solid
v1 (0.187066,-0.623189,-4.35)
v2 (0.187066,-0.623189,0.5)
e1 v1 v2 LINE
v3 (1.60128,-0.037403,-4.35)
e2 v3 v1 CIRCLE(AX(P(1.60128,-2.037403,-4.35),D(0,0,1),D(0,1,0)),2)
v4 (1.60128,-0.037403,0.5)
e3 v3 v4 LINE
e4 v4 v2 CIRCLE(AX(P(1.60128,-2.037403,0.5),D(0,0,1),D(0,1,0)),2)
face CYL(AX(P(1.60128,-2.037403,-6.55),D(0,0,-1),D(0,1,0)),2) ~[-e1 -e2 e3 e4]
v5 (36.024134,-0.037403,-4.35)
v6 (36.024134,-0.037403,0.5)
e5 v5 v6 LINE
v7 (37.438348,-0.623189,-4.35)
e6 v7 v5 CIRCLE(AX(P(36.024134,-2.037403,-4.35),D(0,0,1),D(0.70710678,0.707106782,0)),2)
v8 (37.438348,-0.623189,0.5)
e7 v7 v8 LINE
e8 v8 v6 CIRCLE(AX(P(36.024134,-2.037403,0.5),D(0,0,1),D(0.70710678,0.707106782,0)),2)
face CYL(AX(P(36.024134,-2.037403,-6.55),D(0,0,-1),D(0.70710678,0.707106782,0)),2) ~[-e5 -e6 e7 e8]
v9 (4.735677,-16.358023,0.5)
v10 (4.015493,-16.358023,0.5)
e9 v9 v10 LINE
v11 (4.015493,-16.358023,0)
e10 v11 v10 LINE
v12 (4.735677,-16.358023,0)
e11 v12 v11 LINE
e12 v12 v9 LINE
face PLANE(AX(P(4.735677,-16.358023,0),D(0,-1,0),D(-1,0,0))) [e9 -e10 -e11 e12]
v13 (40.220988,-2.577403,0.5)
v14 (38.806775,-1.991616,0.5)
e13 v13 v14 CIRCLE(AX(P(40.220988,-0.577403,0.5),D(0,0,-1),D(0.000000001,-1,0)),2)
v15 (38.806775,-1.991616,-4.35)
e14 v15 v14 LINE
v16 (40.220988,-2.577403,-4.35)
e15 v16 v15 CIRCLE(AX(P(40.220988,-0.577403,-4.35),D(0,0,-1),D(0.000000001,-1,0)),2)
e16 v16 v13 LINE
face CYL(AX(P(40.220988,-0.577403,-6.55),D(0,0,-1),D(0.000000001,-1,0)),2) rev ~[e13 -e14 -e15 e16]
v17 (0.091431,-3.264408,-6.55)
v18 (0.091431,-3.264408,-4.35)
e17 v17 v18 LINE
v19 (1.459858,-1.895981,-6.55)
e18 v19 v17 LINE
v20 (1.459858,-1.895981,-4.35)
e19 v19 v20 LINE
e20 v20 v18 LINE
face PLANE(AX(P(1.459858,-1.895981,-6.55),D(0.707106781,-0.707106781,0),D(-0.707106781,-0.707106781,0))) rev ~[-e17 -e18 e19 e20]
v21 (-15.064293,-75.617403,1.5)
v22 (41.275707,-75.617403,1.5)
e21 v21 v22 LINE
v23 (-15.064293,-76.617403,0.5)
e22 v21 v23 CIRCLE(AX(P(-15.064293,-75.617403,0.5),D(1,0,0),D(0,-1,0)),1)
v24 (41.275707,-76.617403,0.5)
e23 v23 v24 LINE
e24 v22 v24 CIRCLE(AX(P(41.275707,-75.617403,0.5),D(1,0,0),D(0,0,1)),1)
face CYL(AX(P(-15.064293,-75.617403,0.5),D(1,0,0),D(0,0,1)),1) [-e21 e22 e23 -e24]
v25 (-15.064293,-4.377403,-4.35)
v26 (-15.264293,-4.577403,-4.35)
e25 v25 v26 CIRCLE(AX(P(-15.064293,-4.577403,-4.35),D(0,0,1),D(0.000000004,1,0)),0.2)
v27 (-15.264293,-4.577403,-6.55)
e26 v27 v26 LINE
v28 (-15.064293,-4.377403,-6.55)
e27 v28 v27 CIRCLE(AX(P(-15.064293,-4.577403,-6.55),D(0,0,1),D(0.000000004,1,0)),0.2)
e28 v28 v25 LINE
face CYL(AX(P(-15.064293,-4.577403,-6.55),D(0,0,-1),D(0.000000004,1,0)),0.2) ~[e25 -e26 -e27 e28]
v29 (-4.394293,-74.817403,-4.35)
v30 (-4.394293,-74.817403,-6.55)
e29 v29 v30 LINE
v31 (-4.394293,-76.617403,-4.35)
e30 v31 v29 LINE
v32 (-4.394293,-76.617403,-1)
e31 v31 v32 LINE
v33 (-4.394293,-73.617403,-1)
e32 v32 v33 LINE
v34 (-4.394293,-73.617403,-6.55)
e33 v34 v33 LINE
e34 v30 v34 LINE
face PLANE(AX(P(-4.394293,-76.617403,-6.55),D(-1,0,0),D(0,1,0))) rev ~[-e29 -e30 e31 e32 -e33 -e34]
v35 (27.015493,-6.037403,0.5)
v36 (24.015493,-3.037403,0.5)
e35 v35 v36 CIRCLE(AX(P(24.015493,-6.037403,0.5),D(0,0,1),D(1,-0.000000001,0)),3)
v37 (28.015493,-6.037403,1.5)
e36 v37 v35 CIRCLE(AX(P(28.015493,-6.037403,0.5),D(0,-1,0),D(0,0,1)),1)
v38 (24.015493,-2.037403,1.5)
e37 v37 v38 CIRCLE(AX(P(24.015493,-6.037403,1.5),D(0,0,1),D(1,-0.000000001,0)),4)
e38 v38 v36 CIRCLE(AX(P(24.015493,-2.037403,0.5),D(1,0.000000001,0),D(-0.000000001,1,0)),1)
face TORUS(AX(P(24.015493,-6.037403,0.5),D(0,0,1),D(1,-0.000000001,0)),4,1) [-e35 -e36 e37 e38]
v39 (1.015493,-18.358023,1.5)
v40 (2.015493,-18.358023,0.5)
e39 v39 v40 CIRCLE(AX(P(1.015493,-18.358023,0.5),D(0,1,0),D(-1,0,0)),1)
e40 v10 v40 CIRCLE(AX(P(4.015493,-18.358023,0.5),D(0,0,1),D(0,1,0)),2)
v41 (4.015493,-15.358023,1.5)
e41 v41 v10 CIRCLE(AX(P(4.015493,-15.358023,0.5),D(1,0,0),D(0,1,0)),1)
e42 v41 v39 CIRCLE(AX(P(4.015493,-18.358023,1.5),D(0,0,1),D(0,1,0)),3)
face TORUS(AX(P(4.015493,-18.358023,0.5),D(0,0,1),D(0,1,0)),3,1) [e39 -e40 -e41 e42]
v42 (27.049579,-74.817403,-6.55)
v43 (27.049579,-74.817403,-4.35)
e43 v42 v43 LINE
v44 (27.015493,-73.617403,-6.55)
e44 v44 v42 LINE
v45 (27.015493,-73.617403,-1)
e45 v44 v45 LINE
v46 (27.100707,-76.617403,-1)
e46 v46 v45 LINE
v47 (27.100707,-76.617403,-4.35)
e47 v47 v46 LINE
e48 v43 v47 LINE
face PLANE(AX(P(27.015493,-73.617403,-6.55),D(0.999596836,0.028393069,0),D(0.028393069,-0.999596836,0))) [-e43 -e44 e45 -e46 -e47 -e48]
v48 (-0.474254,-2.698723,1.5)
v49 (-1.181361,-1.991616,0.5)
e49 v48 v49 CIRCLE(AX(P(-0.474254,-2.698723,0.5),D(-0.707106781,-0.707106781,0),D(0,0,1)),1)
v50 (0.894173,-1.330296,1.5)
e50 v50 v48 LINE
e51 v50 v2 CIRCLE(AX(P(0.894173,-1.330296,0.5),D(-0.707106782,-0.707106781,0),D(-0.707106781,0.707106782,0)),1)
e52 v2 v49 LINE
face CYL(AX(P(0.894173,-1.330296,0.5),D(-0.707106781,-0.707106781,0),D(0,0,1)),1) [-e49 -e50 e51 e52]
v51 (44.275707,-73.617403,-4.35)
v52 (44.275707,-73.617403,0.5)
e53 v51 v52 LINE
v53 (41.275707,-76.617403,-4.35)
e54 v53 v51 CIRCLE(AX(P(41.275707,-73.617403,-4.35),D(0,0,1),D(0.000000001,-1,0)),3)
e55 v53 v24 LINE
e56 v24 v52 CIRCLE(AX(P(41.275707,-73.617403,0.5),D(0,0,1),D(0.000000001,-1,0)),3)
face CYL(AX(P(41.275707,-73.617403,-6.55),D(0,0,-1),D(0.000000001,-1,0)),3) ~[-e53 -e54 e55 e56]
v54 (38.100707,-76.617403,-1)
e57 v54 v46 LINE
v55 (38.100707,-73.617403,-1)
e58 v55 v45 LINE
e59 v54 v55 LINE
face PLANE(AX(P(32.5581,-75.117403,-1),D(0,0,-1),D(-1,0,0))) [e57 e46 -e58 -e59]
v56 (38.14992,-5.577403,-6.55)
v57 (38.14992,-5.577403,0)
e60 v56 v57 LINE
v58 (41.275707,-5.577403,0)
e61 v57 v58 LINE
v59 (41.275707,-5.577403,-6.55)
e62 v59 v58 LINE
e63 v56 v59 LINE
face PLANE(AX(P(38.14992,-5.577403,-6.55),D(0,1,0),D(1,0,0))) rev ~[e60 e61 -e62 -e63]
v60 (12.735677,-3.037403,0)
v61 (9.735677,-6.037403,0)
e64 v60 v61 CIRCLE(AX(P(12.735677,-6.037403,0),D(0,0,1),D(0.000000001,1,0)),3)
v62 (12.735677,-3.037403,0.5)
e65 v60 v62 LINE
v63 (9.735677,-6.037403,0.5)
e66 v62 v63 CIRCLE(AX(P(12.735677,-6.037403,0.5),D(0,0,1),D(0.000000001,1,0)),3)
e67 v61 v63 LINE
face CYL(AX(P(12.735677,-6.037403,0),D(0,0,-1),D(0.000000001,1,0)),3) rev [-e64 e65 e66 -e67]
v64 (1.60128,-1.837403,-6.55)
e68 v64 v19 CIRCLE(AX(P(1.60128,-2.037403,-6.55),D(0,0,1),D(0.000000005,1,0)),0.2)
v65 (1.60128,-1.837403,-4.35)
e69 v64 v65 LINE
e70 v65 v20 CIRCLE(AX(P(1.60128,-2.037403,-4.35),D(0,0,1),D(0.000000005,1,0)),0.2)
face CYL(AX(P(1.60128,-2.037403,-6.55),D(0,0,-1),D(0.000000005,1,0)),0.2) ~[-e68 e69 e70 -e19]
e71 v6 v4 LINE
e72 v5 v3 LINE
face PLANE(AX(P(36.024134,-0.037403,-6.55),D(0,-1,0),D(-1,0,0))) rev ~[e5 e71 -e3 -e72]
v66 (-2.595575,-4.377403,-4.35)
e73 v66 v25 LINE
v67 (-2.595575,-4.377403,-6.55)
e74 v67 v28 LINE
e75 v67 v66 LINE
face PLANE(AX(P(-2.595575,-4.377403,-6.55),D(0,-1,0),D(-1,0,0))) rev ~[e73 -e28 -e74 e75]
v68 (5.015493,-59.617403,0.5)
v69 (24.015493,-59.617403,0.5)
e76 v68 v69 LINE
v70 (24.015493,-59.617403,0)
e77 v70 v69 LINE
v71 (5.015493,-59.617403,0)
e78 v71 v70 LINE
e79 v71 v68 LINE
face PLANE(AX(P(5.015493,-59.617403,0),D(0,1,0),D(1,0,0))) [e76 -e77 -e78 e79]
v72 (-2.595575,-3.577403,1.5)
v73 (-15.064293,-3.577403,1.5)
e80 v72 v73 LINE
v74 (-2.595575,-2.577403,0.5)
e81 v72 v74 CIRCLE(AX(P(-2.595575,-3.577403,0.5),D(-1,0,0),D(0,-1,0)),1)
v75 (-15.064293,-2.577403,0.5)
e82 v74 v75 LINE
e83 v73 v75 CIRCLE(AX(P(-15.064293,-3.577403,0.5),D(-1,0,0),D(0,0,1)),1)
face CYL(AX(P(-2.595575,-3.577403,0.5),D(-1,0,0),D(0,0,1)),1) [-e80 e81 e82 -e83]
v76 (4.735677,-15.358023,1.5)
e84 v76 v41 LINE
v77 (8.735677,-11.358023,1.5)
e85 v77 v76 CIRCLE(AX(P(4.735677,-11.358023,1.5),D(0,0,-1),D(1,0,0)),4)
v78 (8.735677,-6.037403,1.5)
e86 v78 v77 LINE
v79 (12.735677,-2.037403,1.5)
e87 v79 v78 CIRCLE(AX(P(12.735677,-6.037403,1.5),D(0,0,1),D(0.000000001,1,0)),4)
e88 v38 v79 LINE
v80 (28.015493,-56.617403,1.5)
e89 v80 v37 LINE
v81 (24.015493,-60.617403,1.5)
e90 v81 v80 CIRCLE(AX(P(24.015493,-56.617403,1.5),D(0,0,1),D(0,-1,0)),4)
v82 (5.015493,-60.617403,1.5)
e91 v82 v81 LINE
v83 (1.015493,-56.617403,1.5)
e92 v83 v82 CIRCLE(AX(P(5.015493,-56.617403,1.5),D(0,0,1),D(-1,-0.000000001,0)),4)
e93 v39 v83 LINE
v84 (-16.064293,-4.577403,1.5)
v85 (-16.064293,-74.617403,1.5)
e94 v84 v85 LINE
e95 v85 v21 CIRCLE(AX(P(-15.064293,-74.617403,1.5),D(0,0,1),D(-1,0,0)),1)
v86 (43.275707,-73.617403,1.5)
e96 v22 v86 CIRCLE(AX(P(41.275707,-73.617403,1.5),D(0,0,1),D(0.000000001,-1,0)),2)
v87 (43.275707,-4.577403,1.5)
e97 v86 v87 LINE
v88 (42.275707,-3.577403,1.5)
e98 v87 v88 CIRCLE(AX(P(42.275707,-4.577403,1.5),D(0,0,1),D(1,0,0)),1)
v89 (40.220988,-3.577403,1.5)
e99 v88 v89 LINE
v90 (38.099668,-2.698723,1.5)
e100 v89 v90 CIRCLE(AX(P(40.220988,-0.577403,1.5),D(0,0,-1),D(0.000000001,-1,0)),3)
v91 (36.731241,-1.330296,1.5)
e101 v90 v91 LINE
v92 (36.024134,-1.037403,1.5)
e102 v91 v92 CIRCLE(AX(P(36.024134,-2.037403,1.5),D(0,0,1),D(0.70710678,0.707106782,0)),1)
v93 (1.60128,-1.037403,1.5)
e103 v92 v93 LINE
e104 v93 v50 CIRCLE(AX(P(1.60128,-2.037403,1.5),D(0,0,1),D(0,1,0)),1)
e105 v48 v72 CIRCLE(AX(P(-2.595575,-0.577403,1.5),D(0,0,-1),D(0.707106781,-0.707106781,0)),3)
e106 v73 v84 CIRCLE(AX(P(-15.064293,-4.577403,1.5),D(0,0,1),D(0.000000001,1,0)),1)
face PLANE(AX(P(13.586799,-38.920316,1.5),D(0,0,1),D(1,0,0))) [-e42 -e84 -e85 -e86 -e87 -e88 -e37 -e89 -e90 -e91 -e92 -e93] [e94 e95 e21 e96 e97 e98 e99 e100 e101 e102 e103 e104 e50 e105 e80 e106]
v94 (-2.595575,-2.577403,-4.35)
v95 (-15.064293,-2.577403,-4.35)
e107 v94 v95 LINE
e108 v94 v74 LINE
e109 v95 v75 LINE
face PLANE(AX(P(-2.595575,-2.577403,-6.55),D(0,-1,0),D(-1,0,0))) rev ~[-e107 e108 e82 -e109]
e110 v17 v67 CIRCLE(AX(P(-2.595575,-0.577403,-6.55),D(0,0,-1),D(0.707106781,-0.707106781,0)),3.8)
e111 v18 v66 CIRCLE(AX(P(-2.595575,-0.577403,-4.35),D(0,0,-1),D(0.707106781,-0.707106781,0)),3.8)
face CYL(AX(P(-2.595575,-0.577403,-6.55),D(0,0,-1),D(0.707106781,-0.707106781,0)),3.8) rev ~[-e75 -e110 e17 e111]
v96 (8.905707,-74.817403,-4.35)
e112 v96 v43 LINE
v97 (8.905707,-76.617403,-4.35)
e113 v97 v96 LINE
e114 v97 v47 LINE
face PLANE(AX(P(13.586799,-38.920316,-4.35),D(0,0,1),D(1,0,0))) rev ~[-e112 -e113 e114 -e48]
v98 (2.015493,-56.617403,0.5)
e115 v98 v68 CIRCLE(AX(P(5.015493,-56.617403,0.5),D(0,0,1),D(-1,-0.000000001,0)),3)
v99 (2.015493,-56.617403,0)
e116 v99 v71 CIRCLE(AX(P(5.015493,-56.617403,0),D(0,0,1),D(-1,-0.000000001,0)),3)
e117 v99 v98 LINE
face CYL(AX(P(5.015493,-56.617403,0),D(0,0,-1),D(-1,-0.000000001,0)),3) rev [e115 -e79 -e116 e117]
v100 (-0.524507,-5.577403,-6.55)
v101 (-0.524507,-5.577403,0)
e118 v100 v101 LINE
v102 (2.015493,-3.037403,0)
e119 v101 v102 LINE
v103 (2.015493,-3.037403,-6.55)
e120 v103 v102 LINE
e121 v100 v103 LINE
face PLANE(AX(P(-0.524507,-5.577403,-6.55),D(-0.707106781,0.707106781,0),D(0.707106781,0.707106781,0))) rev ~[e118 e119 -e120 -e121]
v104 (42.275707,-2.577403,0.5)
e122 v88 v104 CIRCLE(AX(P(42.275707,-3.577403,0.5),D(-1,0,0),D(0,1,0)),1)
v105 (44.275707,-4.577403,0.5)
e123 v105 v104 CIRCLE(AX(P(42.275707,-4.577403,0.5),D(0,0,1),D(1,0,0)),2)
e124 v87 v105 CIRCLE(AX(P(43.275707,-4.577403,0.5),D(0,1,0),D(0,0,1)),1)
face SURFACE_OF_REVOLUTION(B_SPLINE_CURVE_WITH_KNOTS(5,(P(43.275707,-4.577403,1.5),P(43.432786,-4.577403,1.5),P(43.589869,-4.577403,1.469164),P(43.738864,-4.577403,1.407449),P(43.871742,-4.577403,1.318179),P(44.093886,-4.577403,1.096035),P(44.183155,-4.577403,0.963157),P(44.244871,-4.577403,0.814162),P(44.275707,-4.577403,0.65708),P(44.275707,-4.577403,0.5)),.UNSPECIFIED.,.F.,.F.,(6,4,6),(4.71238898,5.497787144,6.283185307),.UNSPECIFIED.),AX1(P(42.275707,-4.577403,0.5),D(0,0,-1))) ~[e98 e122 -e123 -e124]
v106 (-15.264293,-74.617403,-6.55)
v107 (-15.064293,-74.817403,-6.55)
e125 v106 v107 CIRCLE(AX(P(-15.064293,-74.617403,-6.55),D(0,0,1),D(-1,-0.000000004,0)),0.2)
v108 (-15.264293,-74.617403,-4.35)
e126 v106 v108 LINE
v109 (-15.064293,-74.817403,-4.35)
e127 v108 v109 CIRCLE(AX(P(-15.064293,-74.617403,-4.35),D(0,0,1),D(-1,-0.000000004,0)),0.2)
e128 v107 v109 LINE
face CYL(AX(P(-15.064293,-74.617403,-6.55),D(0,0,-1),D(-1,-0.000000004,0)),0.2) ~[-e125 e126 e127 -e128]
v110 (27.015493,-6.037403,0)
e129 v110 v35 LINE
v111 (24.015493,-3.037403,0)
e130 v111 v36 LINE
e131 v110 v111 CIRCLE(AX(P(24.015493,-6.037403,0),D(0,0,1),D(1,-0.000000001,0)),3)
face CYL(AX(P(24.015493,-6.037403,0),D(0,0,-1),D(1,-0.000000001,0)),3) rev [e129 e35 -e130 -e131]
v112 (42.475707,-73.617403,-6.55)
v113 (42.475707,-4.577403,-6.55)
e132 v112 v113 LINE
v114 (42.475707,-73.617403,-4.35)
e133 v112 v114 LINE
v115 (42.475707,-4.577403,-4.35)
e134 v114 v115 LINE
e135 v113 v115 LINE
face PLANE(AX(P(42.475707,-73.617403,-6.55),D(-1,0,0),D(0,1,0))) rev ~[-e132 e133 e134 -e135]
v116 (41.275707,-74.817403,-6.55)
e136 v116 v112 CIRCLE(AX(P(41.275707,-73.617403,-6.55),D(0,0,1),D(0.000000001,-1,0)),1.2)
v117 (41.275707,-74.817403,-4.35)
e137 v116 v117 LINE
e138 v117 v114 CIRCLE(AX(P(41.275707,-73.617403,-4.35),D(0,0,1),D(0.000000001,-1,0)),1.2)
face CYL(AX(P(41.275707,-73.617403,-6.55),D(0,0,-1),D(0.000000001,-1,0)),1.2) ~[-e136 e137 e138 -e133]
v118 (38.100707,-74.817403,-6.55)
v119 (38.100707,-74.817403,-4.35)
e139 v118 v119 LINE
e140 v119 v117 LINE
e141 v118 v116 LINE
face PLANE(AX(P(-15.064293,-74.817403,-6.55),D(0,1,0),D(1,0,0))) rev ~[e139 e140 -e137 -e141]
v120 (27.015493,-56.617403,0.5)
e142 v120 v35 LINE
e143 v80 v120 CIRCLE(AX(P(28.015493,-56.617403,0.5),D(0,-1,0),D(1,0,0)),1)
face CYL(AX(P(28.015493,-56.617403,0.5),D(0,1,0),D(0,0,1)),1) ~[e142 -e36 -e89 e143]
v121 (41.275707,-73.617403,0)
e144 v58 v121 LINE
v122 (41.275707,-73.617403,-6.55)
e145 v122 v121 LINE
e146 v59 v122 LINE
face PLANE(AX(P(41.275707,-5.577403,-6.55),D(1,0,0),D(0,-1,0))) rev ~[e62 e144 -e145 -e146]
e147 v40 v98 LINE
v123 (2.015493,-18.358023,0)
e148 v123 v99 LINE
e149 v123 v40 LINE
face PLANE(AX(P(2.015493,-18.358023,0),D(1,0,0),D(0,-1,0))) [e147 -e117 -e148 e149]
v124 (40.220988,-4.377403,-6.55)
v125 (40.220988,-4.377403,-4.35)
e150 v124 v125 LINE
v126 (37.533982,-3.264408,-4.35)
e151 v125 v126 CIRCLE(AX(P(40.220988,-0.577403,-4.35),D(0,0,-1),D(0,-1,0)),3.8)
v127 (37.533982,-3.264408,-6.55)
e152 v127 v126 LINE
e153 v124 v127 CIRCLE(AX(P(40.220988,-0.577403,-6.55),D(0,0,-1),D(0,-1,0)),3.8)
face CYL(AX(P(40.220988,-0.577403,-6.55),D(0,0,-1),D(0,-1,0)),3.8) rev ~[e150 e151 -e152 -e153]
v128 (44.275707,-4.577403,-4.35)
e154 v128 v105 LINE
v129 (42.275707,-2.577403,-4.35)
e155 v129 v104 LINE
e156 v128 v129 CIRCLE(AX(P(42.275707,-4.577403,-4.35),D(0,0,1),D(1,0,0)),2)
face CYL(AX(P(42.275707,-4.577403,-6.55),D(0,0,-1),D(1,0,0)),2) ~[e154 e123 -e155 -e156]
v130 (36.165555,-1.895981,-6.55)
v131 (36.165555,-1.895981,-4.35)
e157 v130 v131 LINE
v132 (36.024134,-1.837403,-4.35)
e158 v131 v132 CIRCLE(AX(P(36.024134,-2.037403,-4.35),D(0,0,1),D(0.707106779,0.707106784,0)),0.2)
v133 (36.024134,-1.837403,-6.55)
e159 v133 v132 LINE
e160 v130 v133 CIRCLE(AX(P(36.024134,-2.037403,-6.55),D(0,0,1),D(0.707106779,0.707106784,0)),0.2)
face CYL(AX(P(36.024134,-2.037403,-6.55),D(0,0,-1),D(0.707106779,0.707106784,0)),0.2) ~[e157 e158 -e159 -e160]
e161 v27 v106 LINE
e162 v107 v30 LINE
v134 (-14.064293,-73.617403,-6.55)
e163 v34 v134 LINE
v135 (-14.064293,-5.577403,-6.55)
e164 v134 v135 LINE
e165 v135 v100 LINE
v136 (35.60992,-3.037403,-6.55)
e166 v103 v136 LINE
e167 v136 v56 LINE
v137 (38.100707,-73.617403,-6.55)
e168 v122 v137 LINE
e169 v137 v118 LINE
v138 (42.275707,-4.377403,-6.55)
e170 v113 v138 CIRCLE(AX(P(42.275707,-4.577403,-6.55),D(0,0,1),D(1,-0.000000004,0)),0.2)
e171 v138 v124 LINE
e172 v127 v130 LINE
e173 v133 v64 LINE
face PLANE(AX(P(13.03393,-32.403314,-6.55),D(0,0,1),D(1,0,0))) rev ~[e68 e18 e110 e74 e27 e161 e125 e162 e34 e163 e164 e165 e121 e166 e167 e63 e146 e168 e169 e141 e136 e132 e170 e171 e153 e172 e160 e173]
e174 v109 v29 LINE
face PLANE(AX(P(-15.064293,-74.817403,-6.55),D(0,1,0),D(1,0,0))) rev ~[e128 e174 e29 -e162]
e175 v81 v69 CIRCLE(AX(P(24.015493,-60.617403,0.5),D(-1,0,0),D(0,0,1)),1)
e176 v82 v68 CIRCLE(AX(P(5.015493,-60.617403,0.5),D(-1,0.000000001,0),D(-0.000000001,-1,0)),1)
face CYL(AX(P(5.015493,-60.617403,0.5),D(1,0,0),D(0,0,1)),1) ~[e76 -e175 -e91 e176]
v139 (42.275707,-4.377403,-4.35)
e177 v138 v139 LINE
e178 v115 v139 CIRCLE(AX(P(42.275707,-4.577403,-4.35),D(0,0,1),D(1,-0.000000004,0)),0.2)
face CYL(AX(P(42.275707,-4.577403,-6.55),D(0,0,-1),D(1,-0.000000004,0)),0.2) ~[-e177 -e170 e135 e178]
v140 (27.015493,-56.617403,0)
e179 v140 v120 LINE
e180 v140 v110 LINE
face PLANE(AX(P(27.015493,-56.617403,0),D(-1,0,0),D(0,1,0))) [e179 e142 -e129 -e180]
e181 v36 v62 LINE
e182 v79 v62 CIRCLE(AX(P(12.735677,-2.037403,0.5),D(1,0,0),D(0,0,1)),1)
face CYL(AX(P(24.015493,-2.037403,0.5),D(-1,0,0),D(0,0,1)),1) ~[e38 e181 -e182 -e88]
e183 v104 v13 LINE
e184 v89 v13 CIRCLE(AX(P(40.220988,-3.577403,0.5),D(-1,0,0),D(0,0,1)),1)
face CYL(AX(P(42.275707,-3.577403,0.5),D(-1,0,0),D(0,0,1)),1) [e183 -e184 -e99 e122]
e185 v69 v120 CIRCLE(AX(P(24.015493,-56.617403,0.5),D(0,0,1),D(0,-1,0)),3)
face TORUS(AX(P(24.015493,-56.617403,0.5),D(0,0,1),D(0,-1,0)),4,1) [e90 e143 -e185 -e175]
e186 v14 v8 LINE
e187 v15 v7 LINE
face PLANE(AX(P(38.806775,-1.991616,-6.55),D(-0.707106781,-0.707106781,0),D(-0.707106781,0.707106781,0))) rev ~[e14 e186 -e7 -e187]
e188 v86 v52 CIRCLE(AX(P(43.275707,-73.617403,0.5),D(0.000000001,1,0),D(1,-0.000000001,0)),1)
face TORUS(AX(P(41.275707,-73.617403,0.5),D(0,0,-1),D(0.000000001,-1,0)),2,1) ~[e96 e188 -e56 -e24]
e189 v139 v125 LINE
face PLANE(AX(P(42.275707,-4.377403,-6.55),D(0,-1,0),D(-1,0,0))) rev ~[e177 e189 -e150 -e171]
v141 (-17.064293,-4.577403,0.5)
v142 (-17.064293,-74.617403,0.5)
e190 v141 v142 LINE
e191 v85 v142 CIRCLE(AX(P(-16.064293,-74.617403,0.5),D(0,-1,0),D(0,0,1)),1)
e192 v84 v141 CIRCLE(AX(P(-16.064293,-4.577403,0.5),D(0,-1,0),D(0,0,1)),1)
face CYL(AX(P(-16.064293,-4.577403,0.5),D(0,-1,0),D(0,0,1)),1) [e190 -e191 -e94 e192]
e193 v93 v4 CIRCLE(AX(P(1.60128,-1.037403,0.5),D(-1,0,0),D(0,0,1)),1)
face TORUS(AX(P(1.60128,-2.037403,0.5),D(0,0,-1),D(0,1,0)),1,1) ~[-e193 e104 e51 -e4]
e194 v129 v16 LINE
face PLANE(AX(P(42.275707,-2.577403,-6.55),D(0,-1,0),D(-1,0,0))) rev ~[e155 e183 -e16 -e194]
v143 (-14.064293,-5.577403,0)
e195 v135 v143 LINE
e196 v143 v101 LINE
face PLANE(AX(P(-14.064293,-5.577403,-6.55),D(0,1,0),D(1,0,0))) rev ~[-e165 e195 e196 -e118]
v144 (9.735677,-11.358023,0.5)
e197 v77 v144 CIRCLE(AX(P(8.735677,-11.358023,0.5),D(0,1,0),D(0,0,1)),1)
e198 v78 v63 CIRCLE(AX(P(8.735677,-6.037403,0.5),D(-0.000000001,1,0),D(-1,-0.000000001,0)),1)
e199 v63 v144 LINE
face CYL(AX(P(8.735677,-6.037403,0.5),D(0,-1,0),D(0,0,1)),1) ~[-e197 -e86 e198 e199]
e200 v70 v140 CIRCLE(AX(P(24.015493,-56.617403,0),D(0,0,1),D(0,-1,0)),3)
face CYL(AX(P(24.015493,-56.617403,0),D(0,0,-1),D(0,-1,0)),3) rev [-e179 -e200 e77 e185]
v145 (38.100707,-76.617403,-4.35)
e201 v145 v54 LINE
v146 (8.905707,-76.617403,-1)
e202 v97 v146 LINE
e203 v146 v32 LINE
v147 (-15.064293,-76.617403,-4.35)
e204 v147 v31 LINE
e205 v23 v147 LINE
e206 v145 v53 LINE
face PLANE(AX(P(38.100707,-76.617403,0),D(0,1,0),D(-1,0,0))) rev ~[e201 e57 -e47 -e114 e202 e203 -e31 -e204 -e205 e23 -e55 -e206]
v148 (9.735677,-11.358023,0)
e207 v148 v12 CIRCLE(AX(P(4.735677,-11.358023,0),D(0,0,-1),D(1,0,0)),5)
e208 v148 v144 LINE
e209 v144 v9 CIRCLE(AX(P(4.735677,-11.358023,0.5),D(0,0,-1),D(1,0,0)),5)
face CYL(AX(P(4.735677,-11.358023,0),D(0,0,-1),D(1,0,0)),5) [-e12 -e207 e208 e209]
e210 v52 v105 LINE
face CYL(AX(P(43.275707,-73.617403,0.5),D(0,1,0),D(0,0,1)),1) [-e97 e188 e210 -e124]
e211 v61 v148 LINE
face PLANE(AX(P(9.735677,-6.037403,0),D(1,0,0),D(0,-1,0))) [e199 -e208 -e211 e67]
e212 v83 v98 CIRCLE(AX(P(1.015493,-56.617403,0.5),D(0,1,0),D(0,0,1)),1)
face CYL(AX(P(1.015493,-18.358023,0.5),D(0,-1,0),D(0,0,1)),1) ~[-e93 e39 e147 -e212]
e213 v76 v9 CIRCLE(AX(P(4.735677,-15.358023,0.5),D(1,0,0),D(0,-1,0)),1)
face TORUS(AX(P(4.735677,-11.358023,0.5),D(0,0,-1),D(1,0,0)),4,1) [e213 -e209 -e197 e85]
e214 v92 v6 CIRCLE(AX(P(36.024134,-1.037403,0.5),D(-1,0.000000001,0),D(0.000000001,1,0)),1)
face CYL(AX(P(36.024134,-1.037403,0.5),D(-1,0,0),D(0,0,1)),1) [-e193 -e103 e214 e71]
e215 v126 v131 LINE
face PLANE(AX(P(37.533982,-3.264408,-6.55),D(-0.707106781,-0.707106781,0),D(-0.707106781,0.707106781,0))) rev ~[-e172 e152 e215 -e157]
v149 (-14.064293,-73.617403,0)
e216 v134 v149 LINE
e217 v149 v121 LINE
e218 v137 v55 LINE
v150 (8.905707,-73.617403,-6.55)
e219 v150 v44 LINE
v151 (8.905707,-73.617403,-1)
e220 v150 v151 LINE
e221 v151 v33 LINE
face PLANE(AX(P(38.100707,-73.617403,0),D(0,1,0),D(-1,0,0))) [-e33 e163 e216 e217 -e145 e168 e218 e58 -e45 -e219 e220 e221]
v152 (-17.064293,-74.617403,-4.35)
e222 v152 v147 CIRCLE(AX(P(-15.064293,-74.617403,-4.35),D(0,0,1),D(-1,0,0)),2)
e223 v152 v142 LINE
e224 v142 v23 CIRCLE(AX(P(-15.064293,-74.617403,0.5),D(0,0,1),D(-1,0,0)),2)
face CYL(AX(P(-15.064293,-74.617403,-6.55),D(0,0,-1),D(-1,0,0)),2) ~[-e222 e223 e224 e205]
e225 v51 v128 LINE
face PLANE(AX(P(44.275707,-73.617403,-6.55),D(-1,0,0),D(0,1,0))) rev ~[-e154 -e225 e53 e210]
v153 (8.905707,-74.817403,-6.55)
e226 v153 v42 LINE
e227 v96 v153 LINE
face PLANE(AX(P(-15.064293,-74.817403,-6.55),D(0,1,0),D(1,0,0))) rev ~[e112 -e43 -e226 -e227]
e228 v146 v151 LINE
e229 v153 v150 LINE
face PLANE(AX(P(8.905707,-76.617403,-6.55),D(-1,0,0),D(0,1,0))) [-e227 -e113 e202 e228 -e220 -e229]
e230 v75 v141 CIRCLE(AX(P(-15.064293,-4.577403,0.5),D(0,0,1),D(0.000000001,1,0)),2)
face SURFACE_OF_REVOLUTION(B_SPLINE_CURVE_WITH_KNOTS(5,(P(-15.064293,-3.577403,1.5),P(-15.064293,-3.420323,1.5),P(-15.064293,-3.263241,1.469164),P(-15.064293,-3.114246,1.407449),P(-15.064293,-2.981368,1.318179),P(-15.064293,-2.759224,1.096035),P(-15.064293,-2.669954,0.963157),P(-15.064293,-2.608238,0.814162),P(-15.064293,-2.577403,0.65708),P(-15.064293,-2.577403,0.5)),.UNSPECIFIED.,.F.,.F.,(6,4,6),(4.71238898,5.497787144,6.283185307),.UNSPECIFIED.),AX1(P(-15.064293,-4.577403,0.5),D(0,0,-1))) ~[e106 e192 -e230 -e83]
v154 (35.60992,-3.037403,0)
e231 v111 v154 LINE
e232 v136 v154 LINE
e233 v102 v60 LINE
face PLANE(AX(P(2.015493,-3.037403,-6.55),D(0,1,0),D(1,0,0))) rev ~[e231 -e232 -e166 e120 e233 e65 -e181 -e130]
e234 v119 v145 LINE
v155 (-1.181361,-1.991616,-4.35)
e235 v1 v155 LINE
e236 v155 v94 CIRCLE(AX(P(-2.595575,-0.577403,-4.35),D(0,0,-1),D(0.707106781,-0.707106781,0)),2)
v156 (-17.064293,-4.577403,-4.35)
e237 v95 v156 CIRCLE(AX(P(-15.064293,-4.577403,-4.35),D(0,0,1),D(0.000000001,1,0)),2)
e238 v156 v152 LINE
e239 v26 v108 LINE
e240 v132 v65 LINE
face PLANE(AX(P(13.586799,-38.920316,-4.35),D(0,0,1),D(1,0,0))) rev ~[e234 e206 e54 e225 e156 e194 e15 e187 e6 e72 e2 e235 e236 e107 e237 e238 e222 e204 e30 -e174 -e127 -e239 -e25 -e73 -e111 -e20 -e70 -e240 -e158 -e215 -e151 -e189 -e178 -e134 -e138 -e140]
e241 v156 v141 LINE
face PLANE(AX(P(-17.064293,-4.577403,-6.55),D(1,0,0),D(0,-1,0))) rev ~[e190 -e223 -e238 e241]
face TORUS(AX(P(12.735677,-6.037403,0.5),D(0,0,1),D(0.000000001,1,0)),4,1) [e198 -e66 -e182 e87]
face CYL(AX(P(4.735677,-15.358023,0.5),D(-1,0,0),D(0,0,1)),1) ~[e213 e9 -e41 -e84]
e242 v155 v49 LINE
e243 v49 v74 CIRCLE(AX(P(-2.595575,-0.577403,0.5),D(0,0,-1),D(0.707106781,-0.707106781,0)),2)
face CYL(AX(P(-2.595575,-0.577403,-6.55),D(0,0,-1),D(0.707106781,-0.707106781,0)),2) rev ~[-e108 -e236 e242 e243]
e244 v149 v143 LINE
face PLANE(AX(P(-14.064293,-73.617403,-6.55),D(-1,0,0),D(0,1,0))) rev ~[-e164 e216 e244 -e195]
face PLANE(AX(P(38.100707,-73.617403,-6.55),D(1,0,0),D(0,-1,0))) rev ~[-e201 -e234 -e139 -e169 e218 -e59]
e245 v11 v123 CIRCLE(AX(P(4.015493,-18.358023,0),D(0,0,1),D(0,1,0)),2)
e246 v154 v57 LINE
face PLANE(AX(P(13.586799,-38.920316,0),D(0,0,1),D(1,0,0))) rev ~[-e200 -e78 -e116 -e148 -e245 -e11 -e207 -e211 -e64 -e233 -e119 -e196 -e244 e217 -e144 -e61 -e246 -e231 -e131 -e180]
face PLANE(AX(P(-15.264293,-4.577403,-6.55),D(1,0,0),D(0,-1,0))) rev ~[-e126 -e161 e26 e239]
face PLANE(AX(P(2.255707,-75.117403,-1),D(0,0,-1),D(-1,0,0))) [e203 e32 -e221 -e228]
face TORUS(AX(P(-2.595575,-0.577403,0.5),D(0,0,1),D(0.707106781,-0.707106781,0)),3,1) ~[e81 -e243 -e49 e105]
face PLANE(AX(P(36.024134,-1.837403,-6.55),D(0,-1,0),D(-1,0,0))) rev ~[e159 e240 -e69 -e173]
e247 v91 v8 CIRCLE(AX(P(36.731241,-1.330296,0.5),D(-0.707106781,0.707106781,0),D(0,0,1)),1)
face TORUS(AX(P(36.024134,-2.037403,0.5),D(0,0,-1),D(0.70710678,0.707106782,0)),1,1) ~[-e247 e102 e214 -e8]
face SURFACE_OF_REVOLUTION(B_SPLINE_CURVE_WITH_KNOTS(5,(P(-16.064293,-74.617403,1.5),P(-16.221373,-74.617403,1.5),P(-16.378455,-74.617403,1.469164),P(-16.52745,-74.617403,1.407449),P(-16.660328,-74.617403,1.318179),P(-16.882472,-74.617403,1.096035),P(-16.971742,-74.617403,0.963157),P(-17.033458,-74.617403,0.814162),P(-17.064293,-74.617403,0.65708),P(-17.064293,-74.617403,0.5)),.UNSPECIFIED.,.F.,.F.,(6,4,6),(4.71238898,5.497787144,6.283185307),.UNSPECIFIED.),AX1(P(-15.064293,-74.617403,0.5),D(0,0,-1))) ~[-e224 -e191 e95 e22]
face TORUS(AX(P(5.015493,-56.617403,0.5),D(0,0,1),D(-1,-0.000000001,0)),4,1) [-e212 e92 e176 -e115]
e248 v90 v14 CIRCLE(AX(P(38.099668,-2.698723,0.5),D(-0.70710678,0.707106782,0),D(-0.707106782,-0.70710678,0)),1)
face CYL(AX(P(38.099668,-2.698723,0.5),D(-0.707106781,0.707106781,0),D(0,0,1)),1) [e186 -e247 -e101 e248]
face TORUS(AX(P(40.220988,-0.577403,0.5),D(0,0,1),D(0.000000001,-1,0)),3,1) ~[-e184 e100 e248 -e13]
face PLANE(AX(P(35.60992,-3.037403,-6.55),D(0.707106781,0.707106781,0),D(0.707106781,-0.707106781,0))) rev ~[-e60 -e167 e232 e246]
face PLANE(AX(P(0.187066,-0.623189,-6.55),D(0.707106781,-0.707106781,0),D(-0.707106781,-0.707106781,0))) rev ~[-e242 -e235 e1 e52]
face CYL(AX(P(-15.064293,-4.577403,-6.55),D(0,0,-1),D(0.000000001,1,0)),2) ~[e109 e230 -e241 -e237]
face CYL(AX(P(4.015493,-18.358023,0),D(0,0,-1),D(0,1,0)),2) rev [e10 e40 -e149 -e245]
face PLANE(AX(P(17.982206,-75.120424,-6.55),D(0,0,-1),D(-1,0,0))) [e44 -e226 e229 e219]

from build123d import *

# Parameters (mm, degrees)
BOSS_EXTRUDE1_DEPTH = 1.5
BOSS_EXTRUDE2_START = 6.55
BOSS_EXTRUDE2_DEPTH = 6.55
SKETCH4_W           = 11.085213563
SKETCH4_H           = 3
SKETCH4_W_2         = 13.3
BOSS_EXTRUDE4_DEPTH = 1
CUT_EXTRUDE1_DEPTH  = 2.2
FILLET1_R           = 1


with BuildPart() as part:
    # Sketch2 → Boss-Extrude1 (new body)
    with BuildSketch(Plane.XY):
        with BuildLine():
            Line((-15.064293146, -76.617402573), (-4.394293146, -76.617402573))
            Line((-4.394293146, -76.617402573), (41.275706854, -76.617402573))
            ThreePointArc((41.275706854, -76.617402573), (43.397027197, -75.738722916), (44.275706854, -73.617402573))
            Line((44.275706854, -73.617402573), (44.275706854, -4.577402573))
            ThreePointArc((44.275706854, -4.577402573), (43.689920416, -3.16318901), (42.275706854, -2.577402573))
            Line((42.275706854, -2.577402573), (40.220988228, -2.577402573))
            ThreePointArc((40.220988228, -2.577402573), (39.455621363, -2.425161638), (38.806774666, -1.991616135))
            Line((38.806774666, -1.991616135), (37.438347541, -0.62318901))
            ThreePointArc((37.438347541, -0.62318901), (36.789500843, -0.189643508), (36.024133979, -0.037402573))
            Line((36.024133979, -0.037402573), (1.601279729, -0.037402573))
            ThreePointArc((1.601279729, -0.037402573), (0.835912864, -0.189643508), (0.187066167, -0.62318901))
            Line((0.187066167, -0.62318901), (-1.181360958, -1.991616135))
            ThreePointArc((-1.181360958, -1.991616135), (-1.830207656, -2.425161638), (-2.59557452, -2.577402573))
            Line((-2.59557452, -2.577402573), (-15.064293146, -2.577402573))
            ThreePointArc((-15.064293146, -2.577402573), (-16.478506709, -3.16318901), (-17.064293146, -4.577402573))
            Line((-17.064293146, -4.577402573), (-17.064293146, -74.617402573))
            ThreePointArc((-17.064293146, -74.617402573), (-16.478506709, -76.031616135), (-15.064293146, -76.617402573))
        make_face()
        with BuildLine():
            Line((5.015493291, -59.617402573), (24.015493291, -59.617402573))
            ThreePointArc((24.015493291, -59.617402573), (26.136813635, -58.738722916), (27.015493291, -56.617402573))
            Line((27.015493291, -56.617402573), (27.015493291, -6.037402573))
            ThreePointArc((27.015493291, -6.037402573), (26.136813635, -3.916082229), (24.015493291, -3.037402573))
            Line((24.015493291, -3.037402573), (12.735677005, -3.037402573))
            ThreePointArc((12.735677005, -3.037402573), (10.614356661, -3.916082229), (9.735677005, -6.037402573))
            Line((9.735677005, -6.037402573), (9.735677005, -11.358022899))
            ThreePointArc((9.735677005, -11.358022899), (8.271210911, -14.893556805), (4.735677005, -16.358022899))
            Line((4.735677005, -16.358022899), (4.015493291, -16.358022899))
            ThreePointArc((4.015493291, -16.358022899), (2.601279729, -16.943809336), (2.015493291, -18.358022899))
            Line((2.015493291, -18.358022899), (2.015493291, -56.617402573))
            ThreePointArc((2.015493291, -56.617402573), (2.894172948, -58.738722916), (5.015493291, -59.617402573))
        make_face(mode=Mode.SUBTRACT)
    extrude(amount=BOSS_EXTRUDE1_DEPTH)

    # Sketch3 → Boss-Extrude2 (add)
    with BuildSketch(Plane(origin=(0, 0, 0), x_dir=(-1, 0, 0), z_dir=(0, 0, -1)).offset(BOSS_EXTRUDE2_START)):
        with BuildLine():
            Line((4.394293146, -75.117402573), (4.394293146, -73.617402573))
            Line((4.394293146, -73.617402573), (14.064293146, -73.617402573))
            Line((14.064293146, -73.617402573), (14.064293146, -5.577402573))
            Line((14.064293146, -5.577402573), (0.524506709, -5.577402573))
            Line((0.524506709, -5.577402573), (-2.015493291, -3.037402573))
            Line((-2.015493291, -3.037402573), (-35.609920416, -3.037402573))
            Line((-35.609920416, -3.037402573), (-38.149920416, -5.577402573))
            Line((-38.149920416, -5.577402573), (-41.275706854, -5.577402573))
            Line((-41.275706854, -5.577402573), (-41.275706854, -73.617402573))
            Line((-41.275706854, -73.617402573), (-38.100706854, -73.617402573))
            Line((-38.100706854, -73.617402573), (-38.100706854, -75.117402573))
            Line((-38.100706854, -75.117402573), (-38.100706854, -76.617402573))
            Line((-38.100706854, -76.617402573), (-41.275706854, -76.617402573))
            ThreePointArc((-41.275706854, -76.617402573), (-43.397027197, -75.738722916), (-44.275706854, -73.617402573))
            Line((-44.275706854, -73.617402573), (-44.275706854, -4.577402573))
            ThreePointArc((-44.275706854, -4.577402573), (-43.689920416, -3.16318901), (-42.275706854, -2.577402573))
            Line((-42.275706854, -2.577402573), (-40.220988228, -2.577402573))
            ThreePointArc((-40.220988228, -2.577402573), (-39.455621363, -2.425161638), (-38.806774666, -1.991616135))
            Line((-38.806774666, -1.991616135), (-37.438347541, -0.62318901))
            ThreePointArc((-37.438347541, -0.62318901), (-36.789500843, -0.189643508), (-36.024133979, -0.037402573))
            Line((-36.024133979, -0.037402573), (-1.601279729, -0.037402573))
            ThreePointArc((-1.601279729, -0.037402573), (-0.835912864, -0.189643508), (-0.187066167, -0.62318901))
            Line((-0.187066167, -0.62318901), (1.181360958, -1.991616135))
            ThreePointArc((1.181360958, -1.991616135), (1.830207656, -2.425161638), (2.59557452, -2.577402573))
            Line((2.59557452, -2.577402573), (15.064293146, -2.577402573))
            ThreePointArc((15.064293146, -2.577402573), (16.478506709, -3.16318901), (17.064293146, -4.577402573))
            Line((17.064293146, -4.577402573), (17.064293146, -74.617402573))
            ThreePointArc((17.064293146, -74.617402573), (16.478506709, -76.031616135), (15.064293146, -76.617402573))
            Line((15.064293146, -76.617402573), (4.394293146, -76.617402573))
            Line((4.394293146, -76.617402573), (4.394293146, -75.117402573))
        make_face()
        Polygon((-8.905706854, -76.617402573), (-8.905706854, -73.617402573), (-27.015493291, -73.617402573), (-27.100706854, -76.617402573), align=None)
    extrude(amount=-BOSS_EXTRUDE2_DEPTH)

    # Sketch4 → Boss-Extrude4 (add)
    with BuildSketch(Plane(origin=(0, 0, 0), x_dir=(-1, 0, 0), z_dir=(0, 0, -1))):
        with Locations((-32.558100073, -75.117402573)):
            Rectangle(SKETCH4_W, SKETCH4_H)
        with Locations((-2.255706854, -75.117402573)):
            Rectangle(SKETCH4_W_2, SKETCH4_H)
    extrude(amount=BOSS_EXTRUDE4_DEPTH)

    # Sketch6 → Cut-Extrude1 (cut)
    with BuildSketch(Plane(origin=(0, 0, -6.55), x_dir=(-1, 0, 0), z_dir=(0, 0, -1))):
        with BuildLine():
            Line((17.064293146, -4.577402573), (17.064293146, -74.617402573))
            ThreePointArc((17.064293146, -74.617402573), (16.478506709, -76.031616135), (15.064293146, -76.617402573))
            Line((15.064293146, -76.617402573), (4.394293146, -76.617402573))
            Line((4.394293146, -76.617402573), (-8.905706854, -76.617402573))
            Line((-8.905706854, -76.617402573), (-27.100706854, -76.617402573))
            Line((-27.100706854, -76.617402573), (-38.100706854, -76.617402573))
            Line((-38.100706854, -76.617402573), (-41.275706854, -76.617402573))
            ThreePointArc((-41.275706854, -76.617402573), (-43.397027197, -75.738722916), (-44.275706854, -73.617402573))
            Line((-44.275706854, -73.617402573), (-44.275706854, -4.577402573))
            ThreePointArc((-44.275706854, -4.577402573), (-43.689920416, -3.16318901), (-42.275706854, -2.577402573))
            Line((-42.275706854, -2.577402573), (-40.220988228, -2.577402573))
            ThreePointArc((-40.220988228, -2.577402573), (-39.455621363, -2.425161638), (-38.806774666, -1.991616135))
            Line((-38.806774666, -1.991616135), (-37.438347541, -0.62318901))
            ThreePointArc((-37.438347541, -0.62318901), (-36.789500843, -0.189643508), (-36.024133979, -0.037402573))
            Line((-36.024133979, -0.037402573), (-1.601279729, -0.037402573))
            ThreePointArc((-1.601279729, -0.037402573), (-0.835912864, -0.189643508), (-0.187066167, -0.62318901))
            Line((-0.187066167, -0.62318901), (1.181360958, -1.991616135))
            ThreePointArc((1.181360958, -1.991616135), (1.830207656, -2.425161638), (2.59557452, -2.577402573))
            Line((2.59557452, -2.577402573), (15.064293146, -2.577402573))
            ThreePointArc((15.064293146, -2.577402573), (16.478506709, -3.16318901), (17.064293146, -4.577402573))
        make_face()
        with BuildLine():
            Line((-38.100706854, -74.817402573), (-41.275706854, -74.817402573))
            ThreePointArc((-41.275706854, -74.817402573), (-42.124234991, -74.46593071), (-42.475706854, -73.617402573))
            Line((-42.475706854, -73.617402573), (-42.475706854, -4.577402573))
            ThreePointArc((-42.475706854, -4.577402573), (-42.41712821, -4.435981216), (-42.275706854, -4.377402573))
            Line((-42.275706854, -4.377402573), (-40.220988228, -4.377402573))
            ThreePointArc((-40.220988228, -4.377402573), (-38.766791185, -4.088144796), (-37.53398246, -3.264408341))
            Line((-37.53398246, -3.264408341), (-36.165555335, -1.895981216))
            ThreePointArc((-36.165555335, -1.895981216), (-36.100670665, -1.852626666), (-36.024133979, -1.837402573))
            Line((-36.024133979, -1.837402573), (-1.601279729, -1.837402573))
            ThreePointArc((-1.601279729, -1.837402573), (-1.524743043, -1.852626666), (-1.459858373, -1.895981216))
            Line((-1.459858373, -1.895981216), (-0.091431248, -3.264408341))
            ThreePointArc((-0.091431248, -3.264408341), (1.141377477, -4.088144796), (2.59557452, -4.377402573))
            Line((2.59557452, -4.377402573), (15.064293146, -4.377402573))
            ThreePointArc((15.064293146, -4.377402573), (15.205714502, -4.435981216), (15.264293146, -4.577402573))
            Line((15.264293146, -4.577402573), (15.264293146, -74.617402573))
            ThreePointArc((15.264293146, -74.617402573), (15.205714502, -74.758823929), (15.064293146, -74.817402573))
            Line((15.064293146, -74.817402573), (4.394293146, -74.817402573))
            Line((4.394293146, -74.817402573), (-38.100706854, -74.817402573))
        make_face(mode=Mode.SUBTRACT)
    extrude(amount=-CUT_EXTRUDE1_DEPTH, mode=Mode.SUBTRACT)

    # Fillet1
    fillet1_edges = [part.edges().sort_by_distance(p)[0] for p in [
        (2.601279729, -16.943809336, 1.5),
        (2.015493291, -37.487712736, 1.5),
        (2.894172948, -58.738722916, 1.5),
        (14.515493291, -59.617402573, 1.5),
        (26.136813635, -58.738722916, 1.5),
        (27.015493291, -31.327402573, 1.5),
        (26.136813635, -3.916082229, 1.5),
        (18.375585148, -3.037402573, 1.5),
        (10.614356661, -3.916082229, 1.5),
        (9.735677005, -8.697712736, 1.5),
        (8.271210911, -14.893556805, 1.5),
        (4.375585148, -16.358022899, 1.5),
        (-17.064293146, -39.597402573, 1.5),
        (-16.478506709, -3.16318901, 1.5),
        (-8.829933833, -2.577402573, 1.5),
        (-1.830207656, -2.425161638, 1.5),
        (-0.497147396, -1.307402573, 1.5),
        (0.835912864, -0.189643508, 1.5),
        (18.812706854, -0.037402573, 1.5),
        (36.789500843, -0.189643508, 1.5),
        (38.122561103, -1.307402573, 1.5),
        (39.455621363, -2.425161638, 1.5),
        (41.248347541, -2.577402573, 1.5),
        (43.689920416, -3.16318901, 1.5),
        (44.275706854, -39.097402573, 1.5),
        (43.397027197, -75.738722916, 1.5),
        (13.105706854, -76.617402573, 1.5),
        (-16.478506709, -76.031616135, 1.5),
    ]]
    fillet(fillet1_edges, radius=FILLET1_R)


solid = part.part
